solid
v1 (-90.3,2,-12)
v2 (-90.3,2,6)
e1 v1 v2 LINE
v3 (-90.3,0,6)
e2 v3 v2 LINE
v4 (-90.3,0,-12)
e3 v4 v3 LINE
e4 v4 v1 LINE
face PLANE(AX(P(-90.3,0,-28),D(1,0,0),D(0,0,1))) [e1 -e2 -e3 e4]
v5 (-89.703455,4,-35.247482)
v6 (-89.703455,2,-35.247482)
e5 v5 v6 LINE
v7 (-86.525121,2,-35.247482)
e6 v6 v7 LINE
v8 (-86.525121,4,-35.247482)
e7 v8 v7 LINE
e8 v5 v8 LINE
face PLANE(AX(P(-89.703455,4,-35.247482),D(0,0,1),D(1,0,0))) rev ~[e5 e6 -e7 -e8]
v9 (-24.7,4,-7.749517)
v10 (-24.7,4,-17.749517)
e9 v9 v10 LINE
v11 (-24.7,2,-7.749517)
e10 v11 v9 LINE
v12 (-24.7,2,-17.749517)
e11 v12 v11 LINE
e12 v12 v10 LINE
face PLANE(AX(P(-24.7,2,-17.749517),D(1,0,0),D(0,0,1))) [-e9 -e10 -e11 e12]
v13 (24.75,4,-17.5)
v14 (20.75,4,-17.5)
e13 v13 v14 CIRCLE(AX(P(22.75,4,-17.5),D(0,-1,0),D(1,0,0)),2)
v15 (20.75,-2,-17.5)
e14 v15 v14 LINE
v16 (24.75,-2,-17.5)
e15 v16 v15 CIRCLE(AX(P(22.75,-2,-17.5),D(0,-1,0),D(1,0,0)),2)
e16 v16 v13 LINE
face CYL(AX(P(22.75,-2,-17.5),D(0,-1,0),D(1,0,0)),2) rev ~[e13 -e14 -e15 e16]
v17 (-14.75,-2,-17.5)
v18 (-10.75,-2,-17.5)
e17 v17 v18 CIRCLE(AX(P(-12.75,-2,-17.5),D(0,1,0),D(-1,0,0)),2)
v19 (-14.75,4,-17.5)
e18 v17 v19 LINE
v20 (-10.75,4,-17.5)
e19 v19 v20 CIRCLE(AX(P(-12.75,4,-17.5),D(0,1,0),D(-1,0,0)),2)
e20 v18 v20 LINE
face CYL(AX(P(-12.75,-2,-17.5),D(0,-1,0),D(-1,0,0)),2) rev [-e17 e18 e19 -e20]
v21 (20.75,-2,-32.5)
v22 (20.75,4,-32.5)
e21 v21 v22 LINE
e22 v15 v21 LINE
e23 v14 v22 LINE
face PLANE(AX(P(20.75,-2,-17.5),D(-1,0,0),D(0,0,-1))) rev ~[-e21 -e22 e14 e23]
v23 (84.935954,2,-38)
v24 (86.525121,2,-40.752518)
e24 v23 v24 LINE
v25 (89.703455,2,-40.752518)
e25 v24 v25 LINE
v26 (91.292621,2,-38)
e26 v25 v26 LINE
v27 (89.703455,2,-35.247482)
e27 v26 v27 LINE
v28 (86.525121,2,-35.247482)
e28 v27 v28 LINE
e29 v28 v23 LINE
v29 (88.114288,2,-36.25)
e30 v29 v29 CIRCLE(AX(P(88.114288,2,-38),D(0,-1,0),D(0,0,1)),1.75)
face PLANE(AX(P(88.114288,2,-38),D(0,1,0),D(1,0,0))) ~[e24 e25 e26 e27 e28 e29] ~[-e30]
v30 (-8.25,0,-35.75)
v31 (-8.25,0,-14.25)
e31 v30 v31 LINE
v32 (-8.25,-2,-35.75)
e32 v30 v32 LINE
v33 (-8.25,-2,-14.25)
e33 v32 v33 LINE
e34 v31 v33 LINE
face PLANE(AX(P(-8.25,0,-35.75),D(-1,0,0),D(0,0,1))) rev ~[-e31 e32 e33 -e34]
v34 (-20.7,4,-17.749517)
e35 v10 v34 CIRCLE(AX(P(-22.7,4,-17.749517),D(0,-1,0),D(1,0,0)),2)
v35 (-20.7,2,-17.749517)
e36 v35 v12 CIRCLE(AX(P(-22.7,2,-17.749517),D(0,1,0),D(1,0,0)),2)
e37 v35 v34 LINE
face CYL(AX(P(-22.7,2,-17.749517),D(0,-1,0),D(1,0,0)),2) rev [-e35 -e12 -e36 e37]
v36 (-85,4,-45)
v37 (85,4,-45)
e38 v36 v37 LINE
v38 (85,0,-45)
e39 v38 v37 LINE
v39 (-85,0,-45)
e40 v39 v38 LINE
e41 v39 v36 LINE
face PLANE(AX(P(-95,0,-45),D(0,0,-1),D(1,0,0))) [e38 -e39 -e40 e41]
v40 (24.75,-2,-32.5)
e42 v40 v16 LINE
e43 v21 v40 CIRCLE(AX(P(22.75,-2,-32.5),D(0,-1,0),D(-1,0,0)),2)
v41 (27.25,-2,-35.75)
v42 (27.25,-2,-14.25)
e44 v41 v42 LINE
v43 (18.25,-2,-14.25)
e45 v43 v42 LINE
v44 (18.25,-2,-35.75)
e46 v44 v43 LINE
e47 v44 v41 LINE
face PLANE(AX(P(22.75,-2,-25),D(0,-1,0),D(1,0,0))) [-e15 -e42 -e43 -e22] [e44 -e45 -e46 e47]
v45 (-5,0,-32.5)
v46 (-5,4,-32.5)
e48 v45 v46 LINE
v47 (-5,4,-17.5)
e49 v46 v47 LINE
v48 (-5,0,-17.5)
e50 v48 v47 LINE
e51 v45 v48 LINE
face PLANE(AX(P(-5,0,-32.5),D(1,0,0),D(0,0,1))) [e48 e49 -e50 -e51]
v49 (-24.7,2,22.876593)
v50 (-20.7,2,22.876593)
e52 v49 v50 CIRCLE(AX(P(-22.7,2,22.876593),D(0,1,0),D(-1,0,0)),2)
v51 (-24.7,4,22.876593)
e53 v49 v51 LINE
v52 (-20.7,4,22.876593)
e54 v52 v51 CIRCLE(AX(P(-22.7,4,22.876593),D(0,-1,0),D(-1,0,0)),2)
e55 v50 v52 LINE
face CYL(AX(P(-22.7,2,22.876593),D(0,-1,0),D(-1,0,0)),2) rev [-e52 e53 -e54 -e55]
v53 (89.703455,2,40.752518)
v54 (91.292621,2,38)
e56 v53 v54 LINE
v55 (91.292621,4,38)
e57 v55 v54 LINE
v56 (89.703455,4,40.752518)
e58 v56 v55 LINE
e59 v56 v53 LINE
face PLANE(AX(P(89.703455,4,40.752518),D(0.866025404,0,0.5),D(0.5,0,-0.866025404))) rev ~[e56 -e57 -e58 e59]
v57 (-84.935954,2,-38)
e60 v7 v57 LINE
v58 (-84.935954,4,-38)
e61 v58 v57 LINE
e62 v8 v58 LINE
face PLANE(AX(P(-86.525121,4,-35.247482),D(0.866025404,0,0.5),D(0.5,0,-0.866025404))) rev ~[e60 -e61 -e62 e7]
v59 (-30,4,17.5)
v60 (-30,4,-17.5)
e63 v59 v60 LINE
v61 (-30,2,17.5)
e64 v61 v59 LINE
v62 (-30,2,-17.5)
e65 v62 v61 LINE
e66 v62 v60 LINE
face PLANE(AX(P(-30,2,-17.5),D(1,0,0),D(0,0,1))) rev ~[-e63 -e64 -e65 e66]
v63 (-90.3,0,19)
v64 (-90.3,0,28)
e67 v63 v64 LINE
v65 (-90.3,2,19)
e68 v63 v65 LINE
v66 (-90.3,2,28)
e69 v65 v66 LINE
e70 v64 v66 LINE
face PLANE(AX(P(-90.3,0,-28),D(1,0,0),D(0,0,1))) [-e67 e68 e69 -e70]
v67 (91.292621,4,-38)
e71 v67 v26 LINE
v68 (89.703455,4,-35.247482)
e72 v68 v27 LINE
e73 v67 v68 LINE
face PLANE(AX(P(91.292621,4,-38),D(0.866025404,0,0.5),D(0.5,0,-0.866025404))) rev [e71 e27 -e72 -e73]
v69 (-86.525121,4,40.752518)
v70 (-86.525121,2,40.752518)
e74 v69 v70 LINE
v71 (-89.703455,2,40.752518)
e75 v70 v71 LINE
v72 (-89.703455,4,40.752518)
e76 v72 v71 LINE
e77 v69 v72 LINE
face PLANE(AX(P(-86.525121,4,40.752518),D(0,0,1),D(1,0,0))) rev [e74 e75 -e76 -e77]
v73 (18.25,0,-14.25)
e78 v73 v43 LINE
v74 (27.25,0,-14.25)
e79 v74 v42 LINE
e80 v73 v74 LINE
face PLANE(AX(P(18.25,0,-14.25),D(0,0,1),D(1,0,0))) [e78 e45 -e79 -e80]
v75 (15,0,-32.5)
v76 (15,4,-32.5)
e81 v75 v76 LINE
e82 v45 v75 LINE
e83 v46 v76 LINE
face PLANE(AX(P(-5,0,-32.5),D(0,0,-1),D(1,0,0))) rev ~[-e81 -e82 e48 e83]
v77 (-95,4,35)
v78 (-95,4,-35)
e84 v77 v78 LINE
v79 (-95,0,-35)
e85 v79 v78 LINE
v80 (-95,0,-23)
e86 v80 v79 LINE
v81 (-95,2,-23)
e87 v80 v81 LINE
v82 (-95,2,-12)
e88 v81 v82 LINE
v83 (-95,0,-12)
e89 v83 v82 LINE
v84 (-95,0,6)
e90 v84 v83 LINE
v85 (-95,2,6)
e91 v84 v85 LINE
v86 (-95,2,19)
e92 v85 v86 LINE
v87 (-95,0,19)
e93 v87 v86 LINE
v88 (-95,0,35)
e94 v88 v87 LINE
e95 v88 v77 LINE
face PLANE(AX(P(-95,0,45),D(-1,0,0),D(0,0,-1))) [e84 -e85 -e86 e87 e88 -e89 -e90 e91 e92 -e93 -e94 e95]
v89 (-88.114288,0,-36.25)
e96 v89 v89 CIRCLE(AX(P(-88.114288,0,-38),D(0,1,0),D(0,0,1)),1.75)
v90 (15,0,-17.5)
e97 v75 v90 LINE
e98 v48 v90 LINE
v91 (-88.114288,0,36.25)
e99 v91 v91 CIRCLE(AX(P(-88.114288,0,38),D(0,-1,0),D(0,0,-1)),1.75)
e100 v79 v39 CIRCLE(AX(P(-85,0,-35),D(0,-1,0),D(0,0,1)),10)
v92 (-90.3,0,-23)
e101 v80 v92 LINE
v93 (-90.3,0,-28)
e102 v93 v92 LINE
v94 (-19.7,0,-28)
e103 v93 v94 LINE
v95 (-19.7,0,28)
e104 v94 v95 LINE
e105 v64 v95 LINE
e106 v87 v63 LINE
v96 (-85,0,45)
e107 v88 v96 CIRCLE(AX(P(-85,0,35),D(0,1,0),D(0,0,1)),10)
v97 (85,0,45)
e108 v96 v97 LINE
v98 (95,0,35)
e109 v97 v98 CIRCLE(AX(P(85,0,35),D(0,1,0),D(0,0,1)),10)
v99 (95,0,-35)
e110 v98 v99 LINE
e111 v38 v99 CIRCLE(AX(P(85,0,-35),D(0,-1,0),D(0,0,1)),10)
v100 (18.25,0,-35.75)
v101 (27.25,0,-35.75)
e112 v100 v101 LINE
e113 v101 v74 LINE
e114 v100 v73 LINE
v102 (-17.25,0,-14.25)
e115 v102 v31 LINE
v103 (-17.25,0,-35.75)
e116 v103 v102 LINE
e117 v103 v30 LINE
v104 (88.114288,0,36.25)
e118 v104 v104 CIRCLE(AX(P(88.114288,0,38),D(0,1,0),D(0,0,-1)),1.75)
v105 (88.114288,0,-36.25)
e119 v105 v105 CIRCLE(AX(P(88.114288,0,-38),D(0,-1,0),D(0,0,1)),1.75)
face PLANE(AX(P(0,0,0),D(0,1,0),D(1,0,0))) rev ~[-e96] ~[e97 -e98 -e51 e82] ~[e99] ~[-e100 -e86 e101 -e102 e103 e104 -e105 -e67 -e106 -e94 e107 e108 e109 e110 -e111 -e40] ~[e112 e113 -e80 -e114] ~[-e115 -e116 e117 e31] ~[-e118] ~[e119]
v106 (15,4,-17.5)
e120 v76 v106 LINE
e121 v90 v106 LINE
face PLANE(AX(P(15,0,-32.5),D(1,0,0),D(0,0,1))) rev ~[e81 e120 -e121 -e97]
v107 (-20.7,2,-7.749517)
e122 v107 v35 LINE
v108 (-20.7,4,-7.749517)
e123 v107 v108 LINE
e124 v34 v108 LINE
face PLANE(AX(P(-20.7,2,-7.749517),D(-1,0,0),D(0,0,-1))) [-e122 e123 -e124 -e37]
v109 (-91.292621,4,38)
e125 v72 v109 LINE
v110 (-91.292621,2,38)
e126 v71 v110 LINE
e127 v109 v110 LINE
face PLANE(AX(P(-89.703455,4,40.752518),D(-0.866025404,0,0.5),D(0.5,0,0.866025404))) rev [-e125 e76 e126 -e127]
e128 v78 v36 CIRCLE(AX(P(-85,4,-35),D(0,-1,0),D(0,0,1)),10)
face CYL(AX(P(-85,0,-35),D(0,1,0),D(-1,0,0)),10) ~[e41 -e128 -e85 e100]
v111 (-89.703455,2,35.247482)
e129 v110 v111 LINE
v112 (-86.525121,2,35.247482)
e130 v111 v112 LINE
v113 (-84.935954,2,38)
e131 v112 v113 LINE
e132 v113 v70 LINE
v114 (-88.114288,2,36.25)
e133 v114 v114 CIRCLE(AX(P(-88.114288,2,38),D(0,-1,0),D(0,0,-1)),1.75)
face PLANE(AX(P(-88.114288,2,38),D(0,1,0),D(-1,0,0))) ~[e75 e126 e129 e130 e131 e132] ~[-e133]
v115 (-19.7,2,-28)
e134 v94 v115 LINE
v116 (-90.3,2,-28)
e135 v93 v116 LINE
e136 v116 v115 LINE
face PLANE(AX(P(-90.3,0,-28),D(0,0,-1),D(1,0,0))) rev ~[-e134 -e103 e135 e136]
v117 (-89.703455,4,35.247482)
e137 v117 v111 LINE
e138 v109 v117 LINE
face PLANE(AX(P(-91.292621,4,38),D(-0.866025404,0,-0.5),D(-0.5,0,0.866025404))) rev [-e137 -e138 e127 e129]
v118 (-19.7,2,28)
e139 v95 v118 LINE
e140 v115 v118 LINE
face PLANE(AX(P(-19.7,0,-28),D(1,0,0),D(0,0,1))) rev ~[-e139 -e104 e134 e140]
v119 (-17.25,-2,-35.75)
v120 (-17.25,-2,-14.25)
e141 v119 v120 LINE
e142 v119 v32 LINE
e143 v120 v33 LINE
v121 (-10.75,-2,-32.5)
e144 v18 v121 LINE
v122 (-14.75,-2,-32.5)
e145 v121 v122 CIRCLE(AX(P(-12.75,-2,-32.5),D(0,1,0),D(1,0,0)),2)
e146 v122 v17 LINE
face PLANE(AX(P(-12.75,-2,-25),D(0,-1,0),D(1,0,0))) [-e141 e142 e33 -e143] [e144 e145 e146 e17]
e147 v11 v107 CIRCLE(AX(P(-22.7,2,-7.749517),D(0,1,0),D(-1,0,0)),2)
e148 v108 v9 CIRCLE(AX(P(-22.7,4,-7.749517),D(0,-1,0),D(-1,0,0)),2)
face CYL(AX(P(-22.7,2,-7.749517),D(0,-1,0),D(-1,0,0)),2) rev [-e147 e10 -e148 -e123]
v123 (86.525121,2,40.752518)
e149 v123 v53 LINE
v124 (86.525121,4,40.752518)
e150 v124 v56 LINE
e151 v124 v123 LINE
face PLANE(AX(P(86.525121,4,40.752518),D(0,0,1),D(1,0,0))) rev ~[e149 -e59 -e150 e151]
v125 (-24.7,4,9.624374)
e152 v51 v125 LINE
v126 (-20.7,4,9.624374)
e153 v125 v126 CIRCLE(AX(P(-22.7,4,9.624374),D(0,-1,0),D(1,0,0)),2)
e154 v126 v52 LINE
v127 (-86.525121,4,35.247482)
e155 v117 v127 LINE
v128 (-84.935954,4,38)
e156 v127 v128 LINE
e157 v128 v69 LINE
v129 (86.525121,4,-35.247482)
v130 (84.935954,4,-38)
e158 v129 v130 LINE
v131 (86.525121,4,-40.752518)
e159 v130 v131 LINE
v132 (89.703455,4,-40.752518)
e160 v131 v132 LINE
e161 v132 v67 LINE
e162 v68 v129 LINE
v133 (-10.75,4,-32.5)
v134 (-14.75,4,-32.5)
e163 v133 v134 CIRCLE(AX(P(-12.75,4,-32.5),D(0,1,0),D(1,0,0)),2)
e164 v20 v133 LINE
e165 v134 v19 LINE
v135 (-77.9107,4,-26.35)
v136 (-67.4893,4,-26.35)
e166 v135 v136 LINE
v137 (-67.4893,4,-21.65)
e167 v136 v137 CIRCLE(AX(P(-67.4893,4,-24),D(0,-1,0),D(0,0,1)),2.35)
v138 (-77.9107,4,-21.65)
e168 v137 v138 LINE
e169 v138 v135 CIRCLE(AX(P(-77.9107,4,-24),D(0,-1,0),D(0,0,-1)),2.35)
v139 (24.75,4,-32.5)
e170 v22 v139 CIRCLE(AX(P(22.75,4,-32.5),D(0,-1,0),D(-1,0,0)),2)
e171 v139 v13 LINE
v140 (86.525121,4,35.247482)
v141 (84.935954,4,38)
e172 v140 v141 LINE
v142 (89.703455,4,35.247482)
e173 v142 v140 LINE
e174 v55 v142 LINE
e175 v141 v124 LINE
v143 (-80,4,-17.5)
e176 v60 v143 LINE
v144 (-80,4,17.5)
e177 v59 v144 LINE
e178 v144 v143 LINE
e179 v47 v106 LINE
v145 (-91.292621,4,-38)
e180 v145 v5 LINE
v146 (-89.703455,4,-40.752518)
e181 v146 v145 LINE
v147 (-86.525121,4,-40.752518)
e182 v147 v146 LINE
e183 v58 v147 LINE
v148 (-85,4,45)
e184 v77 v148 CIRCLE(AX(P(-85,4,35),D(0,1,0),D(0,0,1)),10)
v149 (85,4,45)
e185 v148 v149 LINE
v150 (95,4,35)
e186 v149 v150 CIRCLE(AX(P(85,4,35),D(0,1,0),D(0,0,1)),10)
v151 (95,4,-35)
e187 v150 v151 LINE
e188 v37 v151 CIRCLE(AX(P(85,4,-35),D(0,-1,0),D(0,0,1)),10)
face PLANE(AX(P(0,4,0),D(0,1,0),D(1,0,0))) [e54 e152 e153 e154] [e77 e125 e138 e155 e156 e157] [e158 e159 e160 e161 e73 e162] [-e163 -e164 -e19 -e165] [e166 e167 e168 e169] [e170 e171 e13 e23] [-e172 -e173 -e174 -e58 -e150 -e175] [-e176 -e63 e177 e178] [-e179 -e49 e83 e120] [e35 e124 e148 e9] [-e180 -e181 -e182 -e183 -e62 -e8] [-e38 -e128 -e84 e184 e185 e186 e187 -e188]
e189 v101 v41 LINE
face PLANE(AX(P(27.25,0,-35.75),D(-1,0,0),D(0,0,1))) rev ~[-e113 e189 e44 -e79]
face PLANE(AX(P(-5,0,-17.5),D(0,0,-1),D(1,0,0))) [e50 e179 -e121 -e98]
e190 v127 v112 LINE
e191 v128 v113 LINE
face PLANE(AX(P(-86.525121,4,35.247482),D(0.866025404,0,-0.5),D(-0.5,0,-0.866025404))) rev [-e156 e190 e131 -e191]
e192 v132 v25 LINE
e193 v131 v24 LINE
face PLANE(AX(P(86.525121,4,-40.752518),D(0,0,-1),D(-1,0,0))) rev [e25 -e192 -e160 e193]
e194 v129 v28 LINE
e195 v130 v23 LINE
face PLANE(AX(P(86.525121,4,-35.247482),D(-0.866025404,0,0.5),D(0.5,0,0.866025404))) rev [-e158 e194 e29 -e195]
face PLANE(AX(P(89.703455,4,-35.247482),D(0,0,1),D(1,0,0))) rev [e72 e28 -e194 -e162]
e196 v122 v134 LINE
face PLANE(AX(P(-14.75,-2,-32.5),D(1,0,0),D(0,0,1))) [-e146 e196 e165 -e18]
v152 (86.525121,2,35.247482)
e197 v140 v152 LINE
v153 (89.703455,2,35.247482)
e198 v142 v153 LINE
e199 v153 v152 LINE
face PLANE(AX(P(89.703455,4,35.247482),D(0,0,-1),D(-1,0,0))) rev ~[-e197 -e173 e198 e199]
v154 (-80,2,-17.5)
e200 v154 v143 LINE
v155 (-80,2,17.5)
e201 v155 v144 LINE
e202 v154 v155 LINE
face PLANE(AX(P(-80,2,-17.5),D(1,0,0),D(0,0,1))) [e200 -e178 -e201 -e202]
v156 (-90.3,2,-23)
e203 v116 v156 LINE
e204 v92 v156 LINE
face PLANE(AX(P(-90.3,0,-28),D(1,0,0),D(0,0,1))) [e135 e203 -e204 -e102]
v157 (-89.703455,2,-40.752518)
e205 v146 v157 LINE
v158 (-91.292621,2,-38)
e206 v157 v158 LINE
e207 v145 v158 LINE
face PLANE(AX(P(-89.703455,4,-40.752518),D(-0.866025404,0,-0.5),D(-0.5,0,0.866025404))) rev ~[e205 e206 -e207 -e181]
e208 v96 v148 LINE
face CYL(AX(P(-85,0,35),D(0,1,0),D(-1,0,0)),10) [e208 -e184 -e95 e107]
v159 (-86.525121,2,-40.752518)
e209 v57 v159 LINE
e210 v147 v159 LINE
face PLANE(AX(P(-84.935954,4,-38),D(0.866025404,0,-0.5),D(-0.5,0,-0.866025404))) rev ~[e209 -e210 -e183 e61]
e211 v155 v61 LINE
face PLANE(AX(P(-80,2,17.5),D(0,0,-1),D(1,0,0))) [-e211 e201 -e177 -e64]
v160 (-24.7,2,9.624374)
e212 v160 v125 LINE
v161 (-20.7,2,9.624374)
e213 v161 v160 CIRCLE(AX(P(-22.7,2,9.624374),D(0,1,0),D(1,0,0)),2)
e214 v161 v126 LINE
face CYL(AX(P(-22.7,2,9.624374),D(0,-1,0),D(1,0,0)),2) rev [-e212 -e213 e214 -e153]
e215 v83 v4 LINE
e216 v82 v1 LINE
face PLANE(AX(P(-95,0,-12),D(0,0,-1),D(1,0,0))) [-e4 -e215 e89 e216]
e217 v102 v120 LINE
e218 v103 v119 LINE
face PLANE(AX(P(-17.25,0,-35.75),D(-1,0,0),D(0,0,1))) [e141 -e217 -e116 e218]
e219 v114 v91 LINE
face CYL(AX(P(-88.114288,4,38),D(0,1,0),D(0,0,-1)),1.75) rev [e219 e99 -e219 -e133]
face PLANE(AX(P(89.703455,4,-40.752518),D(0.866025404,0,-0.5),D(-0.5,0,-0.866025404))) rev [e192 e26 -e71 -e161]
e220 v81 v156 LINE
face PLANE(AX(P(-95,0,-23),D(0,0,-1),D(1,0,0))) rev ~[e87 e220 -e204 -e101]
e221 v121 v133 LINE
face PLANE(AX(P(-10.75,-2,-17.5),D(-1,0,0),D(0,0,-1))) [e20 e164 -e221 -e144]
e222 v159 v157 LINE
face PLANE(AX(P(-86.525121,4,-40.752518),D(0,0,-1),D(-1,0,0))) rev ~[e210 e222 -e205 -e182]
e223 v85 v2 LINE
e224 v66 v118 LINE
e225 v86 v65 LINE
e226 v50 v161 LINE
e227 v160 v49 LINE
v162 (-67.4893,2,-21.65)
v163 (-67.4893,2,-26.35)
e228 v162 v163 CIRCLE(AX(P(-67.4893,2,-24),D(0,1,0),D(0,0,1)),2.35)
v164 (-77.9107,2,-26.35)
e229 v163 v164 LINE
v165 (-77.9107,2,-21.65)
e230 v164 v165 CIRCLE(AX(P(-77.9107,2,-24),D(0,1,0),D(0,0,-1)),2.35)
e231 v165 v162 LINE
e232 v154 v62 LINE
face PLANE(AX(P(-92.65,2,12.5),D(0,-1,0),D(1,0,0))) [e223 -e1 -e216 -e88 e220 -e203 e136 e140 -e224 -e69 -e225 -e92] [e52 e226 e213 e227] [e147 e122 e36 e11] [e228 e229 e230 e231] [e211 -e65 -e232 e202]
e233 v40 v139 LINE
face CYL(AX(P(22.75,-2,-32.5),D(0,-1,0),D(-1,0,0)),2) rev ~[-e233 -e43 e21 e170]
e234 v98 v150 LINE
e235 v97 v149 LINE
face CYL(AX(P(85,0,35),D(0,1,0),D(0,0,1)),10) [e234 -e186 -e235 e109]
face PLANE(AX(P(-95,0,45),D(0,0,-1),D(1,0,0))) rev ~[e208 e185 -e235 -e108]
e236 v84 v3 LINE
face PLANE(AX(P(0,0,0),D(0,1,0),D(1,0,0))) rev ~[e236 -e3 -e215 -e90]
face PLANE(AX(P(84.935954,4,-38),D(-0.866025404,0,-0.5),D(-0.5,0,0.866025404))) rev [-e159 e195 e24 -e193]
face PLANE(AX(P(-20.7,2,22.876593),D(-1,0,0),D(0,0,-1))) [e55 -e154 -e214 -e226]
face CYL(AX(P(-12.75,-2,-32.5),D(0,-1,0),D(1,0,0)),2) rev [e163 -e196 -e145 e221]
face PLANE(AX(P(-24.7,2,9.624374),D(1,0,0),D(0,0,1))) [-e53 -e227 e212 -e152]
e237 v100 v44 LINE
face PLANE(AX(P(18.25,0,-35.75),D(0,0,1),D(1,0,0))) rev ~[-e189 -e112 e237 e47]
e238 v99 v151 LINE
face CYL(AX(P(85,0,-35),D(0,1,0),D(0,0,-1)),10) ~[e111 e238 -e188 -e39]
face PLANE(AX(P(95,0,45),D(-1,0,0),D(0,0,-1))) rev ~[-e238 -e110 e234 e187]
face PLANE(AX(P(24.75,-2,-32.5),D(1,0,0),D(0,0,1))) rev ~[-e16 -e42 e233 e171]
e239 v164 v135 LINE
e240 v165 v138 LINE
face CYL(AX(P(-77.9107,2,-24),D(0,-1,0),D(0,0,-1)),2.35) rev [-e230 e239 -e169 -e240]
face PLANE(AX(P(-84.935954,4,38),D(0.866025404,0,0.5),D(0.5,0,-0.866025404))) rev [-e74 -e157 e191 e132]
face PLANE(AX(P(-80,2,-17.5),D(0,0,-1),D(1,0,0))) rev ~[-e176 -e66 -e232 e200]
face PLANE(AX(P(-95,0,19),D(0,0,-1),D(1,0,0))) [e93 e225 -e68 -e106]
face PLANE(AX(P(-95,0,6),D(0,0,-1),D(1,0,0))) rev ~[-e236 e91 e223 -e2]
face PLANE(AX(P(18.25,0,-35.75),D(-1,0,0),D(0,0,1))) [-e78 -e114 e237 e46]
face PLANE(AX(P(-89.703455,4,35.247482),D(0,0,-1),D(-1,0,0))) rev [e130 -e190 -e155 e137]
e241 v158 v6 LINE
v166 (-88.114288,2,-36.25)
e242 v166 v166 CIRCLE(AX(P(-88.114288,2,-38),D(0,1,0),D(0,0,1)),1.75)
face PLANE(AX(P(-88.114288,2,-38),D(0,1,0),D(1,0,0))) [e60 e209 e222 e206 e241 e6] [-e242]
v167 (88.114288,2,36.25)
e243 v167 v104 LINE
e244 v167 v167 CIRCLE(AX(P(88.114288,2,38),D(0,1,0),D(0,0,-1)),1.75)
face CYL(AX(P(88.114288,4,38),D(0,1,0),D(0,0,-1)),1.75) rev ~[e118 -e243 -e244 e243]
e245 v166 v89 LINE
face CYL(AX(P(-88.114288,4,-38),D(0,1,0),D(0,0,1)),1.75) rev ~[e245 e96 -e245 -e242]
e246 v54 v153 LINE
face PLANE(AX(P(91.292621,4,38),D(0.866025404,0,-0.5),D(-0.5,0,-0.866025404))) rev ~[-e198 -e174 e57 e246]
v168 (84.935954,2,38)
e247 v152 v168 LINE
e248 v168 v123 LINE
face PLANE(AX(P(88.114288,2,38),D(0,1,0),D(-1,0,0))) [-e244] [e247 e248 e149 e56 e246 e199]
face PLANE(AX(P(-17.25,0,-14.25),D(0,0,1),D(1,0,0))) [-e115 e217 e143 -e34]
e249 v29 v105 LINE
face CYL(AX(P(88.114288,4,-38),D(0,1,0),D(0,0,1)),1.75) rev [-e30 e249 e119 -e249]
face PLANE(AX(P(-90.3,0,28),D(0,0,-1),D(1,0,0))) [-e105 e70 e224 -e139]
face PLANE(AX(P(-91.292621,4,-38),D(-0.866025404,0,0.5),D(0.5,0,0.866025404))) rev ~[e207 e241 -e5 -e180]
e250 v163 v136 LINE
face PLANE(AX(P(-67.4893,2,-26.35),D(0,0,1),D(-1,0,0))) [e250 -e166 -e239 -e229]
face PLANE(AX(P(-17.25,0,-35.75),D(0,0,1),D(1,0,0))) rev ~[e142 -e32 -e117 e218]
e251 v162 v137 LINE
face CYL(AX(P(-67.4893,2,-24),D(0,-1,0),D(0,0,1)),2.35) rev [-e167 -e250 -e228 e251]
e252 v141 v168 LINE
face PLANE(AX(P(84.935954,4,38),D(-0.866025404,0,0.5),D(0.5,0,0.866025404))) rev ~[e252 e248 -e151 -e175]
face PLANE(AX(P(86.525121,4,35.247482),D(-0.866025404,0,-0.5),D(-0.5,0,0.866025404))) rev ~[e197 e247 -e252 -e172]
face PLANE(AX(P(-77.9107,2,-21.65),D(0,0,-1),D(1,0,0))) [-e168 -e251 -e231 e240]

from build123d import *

# Parameters (mm, degrees)
SKETCH1_W               = 190
SKETCH1_H               = 90
BOSS_EXTRUDE1_DEPTH     = 4
SKETCH2_R               = 1.75
CUT_EXTRUDE8_DEPTH      = 2
SKETCH14_R              = 1.75
CUT_EXTRUDE9_DEPTH      = 4
MIRROR9_COPY_1_SKETCH_R = 1.75
MIRROR9_COPY_1_DEPTH    = 2
MIRROR9_COPY_2_SKETCH_R = 1.75
MIRROR9_COPY_2_DEPTH    = 4
SKETCH16_W              = 70.6
SKETCH16_H              = 56
CUT_EXTRUDE10_DEPTH     = 2
CUT_EXTRUDE11_DEPTH     = 4
SKETCH18_W              = 50
SKETCH18_H              = 35
CUT_EXTRUDE12_DEPTH     = 4
SKETCH19_W              = 9
SKETCH19_H              = 21.5
BOSS_EXTRUDE2_DEPTH     = 2
CUT_EXTRUDE13_DEPTH     = 6
FILLET1_R               = 10
SKETCH21_W              = 4.7
SKETCH21_H              = 13
CUT_EXTRUDE14_DEPTH     = 2
SKETCH22_W              = 20
SKETCH22_H              = 15
CUT_EXTRUDE15_DEPTH     = 4
SKETCH23_W              = 4.7
SKETCH23_H              = 11
CUT_EXTRUDE16_DEPTH     = 2


with BuildPart() as part:
    # Sketch1 → Boss-Extrude1 (new body)
    with BuildSketch(Plane(origin=(0, 0, 0), x_dir=(1, 0, 0), z_dir=(0, 1, 0))):
        Rectangle(SKETCH1_W, SKETCH1_H)
    extrude(amount=BOSS_EXTRUDE1_DEPTH)

    # Sketch2 → Cut-Extrude8 (cut)
    with BuildSketch(Plane(origin=(0, 4, 0), x_dir=(1, 0, 0), z_dir=(0, 1, 0))):
        Polygon((-84.935953931, 38), (-86.525120789, 40.752517739), (-89.703454503, 40.752517739), (-91.292621361, 38), (-89.703454503, 35.247482261), (-86.525120789, 35.247482261), align=None)
        with Locations(Location((-88.114287646, 38, 0), (0, 0, 270))):
            Circle(SKETCH2_R, mode=Mode.SUBTRACT)
    cut_extrude8 = extrude(amount=-CUT_EXTRUDE8_DEPTH, mode=Mode.SUBTRACT)

    # Sketch14 → Cut-Extrude9 (cut)
    with BuildSketch(Plane(origin=(0, 4, 0), x_dir=(1, 0, 0), z_dir=(0, 1, 0))):
        with Locations(Location((-88.114287646, 38, 0), (0, 0, 270))):
            Circle(SKETCH14_R)
    cut_extrude9 = extrude(amount=-CUT_EXTRUDE9_DEPTH, mode=Mode.SUBTRACT)

    # Mirror8: Cut-Extrude8, Cut-Extrude9 across plane
    add(cut_extrude8.mirror(Plane.XY), mode=Mode.SUBTRACT)
    add(cut_extrude9.mirror(Plane.XY), mode=Mode.SUBTRACT)

    # Mirror9: Cut-Extrude8, Cut-Extrude9 across plane
    add(cut_extrude8.mirror(Plane(origin=(0, 0, 0), x_dir=(0, 0, 1), z_dir=(1, 0, 0))), mode=Mode.SUBTRACT)
    add(cut_extrude9.mirror(Plane(origin=(0, 0, 0), x_dir=(0, 0, 1), z_dir=(1, 0, 0))), mode=Mode.SUBTRACT)

    # Mirror9 copy 1 sketch → Mirror9 copy 1 (cut)
    with BuildSketch(Plane(origin=(0, 4, 0), x_dir=(-1, 0, 0), z_dir=(0, 1, 0))):
        Polygon((-84.935953931, 38), (-86.525120789, 40.752517739), (-89.703454503, 40.752517739), (-91.292621361, 38), (-89.703454503, 35.247482261), (-86.525120789, 35.247482261), align=None)
        with Locations(Location((-88.114287646, 38, 0), (0, 0, 270))):
            Circle(MIRROR9_COPY_1_SKETCH_R, mode=Mode.SUBTRACT)
    extrude(amount=-MIRROR9_COPY_1_DEPTH, mode=Mode.SUBTRACT)

    # Mirror9 copy 2 sketch → Mirror9 copy 2 (cut)
    with BuildSketch(Plane(origin=(0, 4, 0), x_dir=(-1, 0, 0), z_dir=(0, 1, 0))):
        with Locations(Location((-88.114287646, 38, 0), (0, 0, 270))):
            Circle(MIRROR9_COPY_2_SKETCH_R)
    extrude(amount=-MIRROR9_COPY_2_DEPTH, mode=Mode.SUBTRACT)

    # Sketch16 → Cut-Extrude10 (cut)
    with BuildSketch(Plane.XZ):
        with Locations((-55, 0)):
            Rectangle(SKETCH16_W, SKETCH16_H)
    extrude(amount=-CUT_EXTRUDE10_DEPTH, mode=Mode.SUBTRACT)

    # Sketch17 → Cut-Extrude11 (cut)
    with BuildSketch(Plane.XZ.offset(-2)):
        with BuildLine():
            Line((-77.910700379, -21.65), (-67.489299621, -21.65))
            ThreePointArc((-67.489299621, -21.65), (-65.139299621, -24), (-67.489299621, -26.35))
            Line((-67.489299621, -26.35), (-77.910700379, -26.35))
            ThreePointArc((-77.910700379, -26.35), (-80.260700379, -24), (-77.910700379, -21.65))
        make_face()
        with BuildLine():
            Line((-24.7, -17.749516727), (-24.7, -7.749516727))
            ThreePointArc((-24.7, -7.749516727), (-22.7, -5.749516727), (-20.7, -7.749516727))
            Line((-20.7, -7.749516727), (-20.7, -17.749516727))
            ThreePointArc((-20.7, -17.749516727), (-22.7, -19.749516727), (-24.7, -17.749516727))
        make_face()
        with BuildLine():
            Line((-20.7, 22.876592803), (-20.7, 9.624373743))
            ThreePointArc((-20.7, 9.624373743), (-22.7, 7.624373743), (-24.7, 9.624373743))
            Line((-24.7, 9.624373743), (-24.7, 22.876592803))
            ThreePointArc((-24.7, 22.876592803), (-22.7, 24.876592803), (-20.7, 22.876592803))
        make_face()
    extrude(amount=-CUT_EXTRUDE11_DEPTH, mode=Mode.SUBTRACT)

    # Sketch18 → Cut-Extrude12 (cut)
    with BuildSketch(Plane.XZ.offset(-2)):
        with Locations((-55, 0)):
            Rectangle(SKETCH18_W, SKETCH18_H)
    extrude(amount=-CUT_EXTRUDE12_DEPTH, mode=Mode.SUBTRACT)

    # Sketch19 → Boss-Extrude2 (add)
    with BuildSketch(Plane.XZ):
        with Locations((-12.75, -25)):
            Rectangle(SKETCH19_W, SKETCH19_H)
        with Locations((22.75, -25)):
            Rectangle(SKETCH19_W, SKETCH19_H)
    extrude(amount=BOSS_EXTRUDE2_DEPTH)

    # Sketch20 → Cut-Extrude13 (cut)
    with BuildSketch(Plane.XZ.offset(2)):
        with BuildLine():
            Line((-14.75, -32.5), (-14.75, -17.5))
            ThreePointArc((-14.75, -17.5), (-12.75, -15.5), (-10.75, -17.5))
            Line((-10.75, -17.5), (-10.75, -32.5))
            ThreePointArc((-10.75, -32.5), (-12.75, -34.5), (-14.75, -32.5))
        make_face()
        with BuildLine():
            Line((24.75, -32.5), (24.75, -17.5))
            ThreePointArc((24.75, -17.5), (22.75, -15.5), (20.75, -17.5))
            Line((20.75, -17.5), (20.75, -32.5))
            ThreePointArc((20.75, -32.5), (22.75, -34.5), (24.75, -32.5))
        make_face()
    extrude(amount=-CUT_EXTRUDE13_DEPTH, mode=Mode.SUBTRACT)

    # Fillet1
    fillet1_edges = [part.edges().sort_by_distance(p)[0] for p in [
        (-95, 2, 45),
        (-95, 2, -45),
        (95, 2, -45),
        (95, 2, 45),
    ]]
    fillet(fillet1_edges, radius=FILLET1_R)

    # Sketch21 → Cut-Extrude14 (cut)
    with BuildSketch(Plane.XZ):
        with Locations((-92.65, 12.5)):
            Rectangle(SKETCH21_W, SKETCH21_H)
    extrude(amount=-CUT_EXTRUDE14_DEPTH, mode=Mode.SUBTRACT)

    # Sketch22 → Cut-Extrude15 (cut)
    with BuildSketch(Plane.XZ):
        with Locations((5, -25)):
            Rectangle(SKETCH22_W, SKETCH22_H)
    extrude(amount=-CUT_EXTRUDE15_DEPTH, mode=Mode.SUBTRACT)

    # Sketch23 → Cut-Extrude16 (cut)
    with BuildSketch(Plane.XZ):
        with Locations((-92.65, -17.5)):
            Rectangle(SKETCH23_W, SKETCH23_H)
    extrude(amount=-CUT_EXTRUDE16_DEPTH, mode=Mode.SUBTRACT)


solid = part.part
